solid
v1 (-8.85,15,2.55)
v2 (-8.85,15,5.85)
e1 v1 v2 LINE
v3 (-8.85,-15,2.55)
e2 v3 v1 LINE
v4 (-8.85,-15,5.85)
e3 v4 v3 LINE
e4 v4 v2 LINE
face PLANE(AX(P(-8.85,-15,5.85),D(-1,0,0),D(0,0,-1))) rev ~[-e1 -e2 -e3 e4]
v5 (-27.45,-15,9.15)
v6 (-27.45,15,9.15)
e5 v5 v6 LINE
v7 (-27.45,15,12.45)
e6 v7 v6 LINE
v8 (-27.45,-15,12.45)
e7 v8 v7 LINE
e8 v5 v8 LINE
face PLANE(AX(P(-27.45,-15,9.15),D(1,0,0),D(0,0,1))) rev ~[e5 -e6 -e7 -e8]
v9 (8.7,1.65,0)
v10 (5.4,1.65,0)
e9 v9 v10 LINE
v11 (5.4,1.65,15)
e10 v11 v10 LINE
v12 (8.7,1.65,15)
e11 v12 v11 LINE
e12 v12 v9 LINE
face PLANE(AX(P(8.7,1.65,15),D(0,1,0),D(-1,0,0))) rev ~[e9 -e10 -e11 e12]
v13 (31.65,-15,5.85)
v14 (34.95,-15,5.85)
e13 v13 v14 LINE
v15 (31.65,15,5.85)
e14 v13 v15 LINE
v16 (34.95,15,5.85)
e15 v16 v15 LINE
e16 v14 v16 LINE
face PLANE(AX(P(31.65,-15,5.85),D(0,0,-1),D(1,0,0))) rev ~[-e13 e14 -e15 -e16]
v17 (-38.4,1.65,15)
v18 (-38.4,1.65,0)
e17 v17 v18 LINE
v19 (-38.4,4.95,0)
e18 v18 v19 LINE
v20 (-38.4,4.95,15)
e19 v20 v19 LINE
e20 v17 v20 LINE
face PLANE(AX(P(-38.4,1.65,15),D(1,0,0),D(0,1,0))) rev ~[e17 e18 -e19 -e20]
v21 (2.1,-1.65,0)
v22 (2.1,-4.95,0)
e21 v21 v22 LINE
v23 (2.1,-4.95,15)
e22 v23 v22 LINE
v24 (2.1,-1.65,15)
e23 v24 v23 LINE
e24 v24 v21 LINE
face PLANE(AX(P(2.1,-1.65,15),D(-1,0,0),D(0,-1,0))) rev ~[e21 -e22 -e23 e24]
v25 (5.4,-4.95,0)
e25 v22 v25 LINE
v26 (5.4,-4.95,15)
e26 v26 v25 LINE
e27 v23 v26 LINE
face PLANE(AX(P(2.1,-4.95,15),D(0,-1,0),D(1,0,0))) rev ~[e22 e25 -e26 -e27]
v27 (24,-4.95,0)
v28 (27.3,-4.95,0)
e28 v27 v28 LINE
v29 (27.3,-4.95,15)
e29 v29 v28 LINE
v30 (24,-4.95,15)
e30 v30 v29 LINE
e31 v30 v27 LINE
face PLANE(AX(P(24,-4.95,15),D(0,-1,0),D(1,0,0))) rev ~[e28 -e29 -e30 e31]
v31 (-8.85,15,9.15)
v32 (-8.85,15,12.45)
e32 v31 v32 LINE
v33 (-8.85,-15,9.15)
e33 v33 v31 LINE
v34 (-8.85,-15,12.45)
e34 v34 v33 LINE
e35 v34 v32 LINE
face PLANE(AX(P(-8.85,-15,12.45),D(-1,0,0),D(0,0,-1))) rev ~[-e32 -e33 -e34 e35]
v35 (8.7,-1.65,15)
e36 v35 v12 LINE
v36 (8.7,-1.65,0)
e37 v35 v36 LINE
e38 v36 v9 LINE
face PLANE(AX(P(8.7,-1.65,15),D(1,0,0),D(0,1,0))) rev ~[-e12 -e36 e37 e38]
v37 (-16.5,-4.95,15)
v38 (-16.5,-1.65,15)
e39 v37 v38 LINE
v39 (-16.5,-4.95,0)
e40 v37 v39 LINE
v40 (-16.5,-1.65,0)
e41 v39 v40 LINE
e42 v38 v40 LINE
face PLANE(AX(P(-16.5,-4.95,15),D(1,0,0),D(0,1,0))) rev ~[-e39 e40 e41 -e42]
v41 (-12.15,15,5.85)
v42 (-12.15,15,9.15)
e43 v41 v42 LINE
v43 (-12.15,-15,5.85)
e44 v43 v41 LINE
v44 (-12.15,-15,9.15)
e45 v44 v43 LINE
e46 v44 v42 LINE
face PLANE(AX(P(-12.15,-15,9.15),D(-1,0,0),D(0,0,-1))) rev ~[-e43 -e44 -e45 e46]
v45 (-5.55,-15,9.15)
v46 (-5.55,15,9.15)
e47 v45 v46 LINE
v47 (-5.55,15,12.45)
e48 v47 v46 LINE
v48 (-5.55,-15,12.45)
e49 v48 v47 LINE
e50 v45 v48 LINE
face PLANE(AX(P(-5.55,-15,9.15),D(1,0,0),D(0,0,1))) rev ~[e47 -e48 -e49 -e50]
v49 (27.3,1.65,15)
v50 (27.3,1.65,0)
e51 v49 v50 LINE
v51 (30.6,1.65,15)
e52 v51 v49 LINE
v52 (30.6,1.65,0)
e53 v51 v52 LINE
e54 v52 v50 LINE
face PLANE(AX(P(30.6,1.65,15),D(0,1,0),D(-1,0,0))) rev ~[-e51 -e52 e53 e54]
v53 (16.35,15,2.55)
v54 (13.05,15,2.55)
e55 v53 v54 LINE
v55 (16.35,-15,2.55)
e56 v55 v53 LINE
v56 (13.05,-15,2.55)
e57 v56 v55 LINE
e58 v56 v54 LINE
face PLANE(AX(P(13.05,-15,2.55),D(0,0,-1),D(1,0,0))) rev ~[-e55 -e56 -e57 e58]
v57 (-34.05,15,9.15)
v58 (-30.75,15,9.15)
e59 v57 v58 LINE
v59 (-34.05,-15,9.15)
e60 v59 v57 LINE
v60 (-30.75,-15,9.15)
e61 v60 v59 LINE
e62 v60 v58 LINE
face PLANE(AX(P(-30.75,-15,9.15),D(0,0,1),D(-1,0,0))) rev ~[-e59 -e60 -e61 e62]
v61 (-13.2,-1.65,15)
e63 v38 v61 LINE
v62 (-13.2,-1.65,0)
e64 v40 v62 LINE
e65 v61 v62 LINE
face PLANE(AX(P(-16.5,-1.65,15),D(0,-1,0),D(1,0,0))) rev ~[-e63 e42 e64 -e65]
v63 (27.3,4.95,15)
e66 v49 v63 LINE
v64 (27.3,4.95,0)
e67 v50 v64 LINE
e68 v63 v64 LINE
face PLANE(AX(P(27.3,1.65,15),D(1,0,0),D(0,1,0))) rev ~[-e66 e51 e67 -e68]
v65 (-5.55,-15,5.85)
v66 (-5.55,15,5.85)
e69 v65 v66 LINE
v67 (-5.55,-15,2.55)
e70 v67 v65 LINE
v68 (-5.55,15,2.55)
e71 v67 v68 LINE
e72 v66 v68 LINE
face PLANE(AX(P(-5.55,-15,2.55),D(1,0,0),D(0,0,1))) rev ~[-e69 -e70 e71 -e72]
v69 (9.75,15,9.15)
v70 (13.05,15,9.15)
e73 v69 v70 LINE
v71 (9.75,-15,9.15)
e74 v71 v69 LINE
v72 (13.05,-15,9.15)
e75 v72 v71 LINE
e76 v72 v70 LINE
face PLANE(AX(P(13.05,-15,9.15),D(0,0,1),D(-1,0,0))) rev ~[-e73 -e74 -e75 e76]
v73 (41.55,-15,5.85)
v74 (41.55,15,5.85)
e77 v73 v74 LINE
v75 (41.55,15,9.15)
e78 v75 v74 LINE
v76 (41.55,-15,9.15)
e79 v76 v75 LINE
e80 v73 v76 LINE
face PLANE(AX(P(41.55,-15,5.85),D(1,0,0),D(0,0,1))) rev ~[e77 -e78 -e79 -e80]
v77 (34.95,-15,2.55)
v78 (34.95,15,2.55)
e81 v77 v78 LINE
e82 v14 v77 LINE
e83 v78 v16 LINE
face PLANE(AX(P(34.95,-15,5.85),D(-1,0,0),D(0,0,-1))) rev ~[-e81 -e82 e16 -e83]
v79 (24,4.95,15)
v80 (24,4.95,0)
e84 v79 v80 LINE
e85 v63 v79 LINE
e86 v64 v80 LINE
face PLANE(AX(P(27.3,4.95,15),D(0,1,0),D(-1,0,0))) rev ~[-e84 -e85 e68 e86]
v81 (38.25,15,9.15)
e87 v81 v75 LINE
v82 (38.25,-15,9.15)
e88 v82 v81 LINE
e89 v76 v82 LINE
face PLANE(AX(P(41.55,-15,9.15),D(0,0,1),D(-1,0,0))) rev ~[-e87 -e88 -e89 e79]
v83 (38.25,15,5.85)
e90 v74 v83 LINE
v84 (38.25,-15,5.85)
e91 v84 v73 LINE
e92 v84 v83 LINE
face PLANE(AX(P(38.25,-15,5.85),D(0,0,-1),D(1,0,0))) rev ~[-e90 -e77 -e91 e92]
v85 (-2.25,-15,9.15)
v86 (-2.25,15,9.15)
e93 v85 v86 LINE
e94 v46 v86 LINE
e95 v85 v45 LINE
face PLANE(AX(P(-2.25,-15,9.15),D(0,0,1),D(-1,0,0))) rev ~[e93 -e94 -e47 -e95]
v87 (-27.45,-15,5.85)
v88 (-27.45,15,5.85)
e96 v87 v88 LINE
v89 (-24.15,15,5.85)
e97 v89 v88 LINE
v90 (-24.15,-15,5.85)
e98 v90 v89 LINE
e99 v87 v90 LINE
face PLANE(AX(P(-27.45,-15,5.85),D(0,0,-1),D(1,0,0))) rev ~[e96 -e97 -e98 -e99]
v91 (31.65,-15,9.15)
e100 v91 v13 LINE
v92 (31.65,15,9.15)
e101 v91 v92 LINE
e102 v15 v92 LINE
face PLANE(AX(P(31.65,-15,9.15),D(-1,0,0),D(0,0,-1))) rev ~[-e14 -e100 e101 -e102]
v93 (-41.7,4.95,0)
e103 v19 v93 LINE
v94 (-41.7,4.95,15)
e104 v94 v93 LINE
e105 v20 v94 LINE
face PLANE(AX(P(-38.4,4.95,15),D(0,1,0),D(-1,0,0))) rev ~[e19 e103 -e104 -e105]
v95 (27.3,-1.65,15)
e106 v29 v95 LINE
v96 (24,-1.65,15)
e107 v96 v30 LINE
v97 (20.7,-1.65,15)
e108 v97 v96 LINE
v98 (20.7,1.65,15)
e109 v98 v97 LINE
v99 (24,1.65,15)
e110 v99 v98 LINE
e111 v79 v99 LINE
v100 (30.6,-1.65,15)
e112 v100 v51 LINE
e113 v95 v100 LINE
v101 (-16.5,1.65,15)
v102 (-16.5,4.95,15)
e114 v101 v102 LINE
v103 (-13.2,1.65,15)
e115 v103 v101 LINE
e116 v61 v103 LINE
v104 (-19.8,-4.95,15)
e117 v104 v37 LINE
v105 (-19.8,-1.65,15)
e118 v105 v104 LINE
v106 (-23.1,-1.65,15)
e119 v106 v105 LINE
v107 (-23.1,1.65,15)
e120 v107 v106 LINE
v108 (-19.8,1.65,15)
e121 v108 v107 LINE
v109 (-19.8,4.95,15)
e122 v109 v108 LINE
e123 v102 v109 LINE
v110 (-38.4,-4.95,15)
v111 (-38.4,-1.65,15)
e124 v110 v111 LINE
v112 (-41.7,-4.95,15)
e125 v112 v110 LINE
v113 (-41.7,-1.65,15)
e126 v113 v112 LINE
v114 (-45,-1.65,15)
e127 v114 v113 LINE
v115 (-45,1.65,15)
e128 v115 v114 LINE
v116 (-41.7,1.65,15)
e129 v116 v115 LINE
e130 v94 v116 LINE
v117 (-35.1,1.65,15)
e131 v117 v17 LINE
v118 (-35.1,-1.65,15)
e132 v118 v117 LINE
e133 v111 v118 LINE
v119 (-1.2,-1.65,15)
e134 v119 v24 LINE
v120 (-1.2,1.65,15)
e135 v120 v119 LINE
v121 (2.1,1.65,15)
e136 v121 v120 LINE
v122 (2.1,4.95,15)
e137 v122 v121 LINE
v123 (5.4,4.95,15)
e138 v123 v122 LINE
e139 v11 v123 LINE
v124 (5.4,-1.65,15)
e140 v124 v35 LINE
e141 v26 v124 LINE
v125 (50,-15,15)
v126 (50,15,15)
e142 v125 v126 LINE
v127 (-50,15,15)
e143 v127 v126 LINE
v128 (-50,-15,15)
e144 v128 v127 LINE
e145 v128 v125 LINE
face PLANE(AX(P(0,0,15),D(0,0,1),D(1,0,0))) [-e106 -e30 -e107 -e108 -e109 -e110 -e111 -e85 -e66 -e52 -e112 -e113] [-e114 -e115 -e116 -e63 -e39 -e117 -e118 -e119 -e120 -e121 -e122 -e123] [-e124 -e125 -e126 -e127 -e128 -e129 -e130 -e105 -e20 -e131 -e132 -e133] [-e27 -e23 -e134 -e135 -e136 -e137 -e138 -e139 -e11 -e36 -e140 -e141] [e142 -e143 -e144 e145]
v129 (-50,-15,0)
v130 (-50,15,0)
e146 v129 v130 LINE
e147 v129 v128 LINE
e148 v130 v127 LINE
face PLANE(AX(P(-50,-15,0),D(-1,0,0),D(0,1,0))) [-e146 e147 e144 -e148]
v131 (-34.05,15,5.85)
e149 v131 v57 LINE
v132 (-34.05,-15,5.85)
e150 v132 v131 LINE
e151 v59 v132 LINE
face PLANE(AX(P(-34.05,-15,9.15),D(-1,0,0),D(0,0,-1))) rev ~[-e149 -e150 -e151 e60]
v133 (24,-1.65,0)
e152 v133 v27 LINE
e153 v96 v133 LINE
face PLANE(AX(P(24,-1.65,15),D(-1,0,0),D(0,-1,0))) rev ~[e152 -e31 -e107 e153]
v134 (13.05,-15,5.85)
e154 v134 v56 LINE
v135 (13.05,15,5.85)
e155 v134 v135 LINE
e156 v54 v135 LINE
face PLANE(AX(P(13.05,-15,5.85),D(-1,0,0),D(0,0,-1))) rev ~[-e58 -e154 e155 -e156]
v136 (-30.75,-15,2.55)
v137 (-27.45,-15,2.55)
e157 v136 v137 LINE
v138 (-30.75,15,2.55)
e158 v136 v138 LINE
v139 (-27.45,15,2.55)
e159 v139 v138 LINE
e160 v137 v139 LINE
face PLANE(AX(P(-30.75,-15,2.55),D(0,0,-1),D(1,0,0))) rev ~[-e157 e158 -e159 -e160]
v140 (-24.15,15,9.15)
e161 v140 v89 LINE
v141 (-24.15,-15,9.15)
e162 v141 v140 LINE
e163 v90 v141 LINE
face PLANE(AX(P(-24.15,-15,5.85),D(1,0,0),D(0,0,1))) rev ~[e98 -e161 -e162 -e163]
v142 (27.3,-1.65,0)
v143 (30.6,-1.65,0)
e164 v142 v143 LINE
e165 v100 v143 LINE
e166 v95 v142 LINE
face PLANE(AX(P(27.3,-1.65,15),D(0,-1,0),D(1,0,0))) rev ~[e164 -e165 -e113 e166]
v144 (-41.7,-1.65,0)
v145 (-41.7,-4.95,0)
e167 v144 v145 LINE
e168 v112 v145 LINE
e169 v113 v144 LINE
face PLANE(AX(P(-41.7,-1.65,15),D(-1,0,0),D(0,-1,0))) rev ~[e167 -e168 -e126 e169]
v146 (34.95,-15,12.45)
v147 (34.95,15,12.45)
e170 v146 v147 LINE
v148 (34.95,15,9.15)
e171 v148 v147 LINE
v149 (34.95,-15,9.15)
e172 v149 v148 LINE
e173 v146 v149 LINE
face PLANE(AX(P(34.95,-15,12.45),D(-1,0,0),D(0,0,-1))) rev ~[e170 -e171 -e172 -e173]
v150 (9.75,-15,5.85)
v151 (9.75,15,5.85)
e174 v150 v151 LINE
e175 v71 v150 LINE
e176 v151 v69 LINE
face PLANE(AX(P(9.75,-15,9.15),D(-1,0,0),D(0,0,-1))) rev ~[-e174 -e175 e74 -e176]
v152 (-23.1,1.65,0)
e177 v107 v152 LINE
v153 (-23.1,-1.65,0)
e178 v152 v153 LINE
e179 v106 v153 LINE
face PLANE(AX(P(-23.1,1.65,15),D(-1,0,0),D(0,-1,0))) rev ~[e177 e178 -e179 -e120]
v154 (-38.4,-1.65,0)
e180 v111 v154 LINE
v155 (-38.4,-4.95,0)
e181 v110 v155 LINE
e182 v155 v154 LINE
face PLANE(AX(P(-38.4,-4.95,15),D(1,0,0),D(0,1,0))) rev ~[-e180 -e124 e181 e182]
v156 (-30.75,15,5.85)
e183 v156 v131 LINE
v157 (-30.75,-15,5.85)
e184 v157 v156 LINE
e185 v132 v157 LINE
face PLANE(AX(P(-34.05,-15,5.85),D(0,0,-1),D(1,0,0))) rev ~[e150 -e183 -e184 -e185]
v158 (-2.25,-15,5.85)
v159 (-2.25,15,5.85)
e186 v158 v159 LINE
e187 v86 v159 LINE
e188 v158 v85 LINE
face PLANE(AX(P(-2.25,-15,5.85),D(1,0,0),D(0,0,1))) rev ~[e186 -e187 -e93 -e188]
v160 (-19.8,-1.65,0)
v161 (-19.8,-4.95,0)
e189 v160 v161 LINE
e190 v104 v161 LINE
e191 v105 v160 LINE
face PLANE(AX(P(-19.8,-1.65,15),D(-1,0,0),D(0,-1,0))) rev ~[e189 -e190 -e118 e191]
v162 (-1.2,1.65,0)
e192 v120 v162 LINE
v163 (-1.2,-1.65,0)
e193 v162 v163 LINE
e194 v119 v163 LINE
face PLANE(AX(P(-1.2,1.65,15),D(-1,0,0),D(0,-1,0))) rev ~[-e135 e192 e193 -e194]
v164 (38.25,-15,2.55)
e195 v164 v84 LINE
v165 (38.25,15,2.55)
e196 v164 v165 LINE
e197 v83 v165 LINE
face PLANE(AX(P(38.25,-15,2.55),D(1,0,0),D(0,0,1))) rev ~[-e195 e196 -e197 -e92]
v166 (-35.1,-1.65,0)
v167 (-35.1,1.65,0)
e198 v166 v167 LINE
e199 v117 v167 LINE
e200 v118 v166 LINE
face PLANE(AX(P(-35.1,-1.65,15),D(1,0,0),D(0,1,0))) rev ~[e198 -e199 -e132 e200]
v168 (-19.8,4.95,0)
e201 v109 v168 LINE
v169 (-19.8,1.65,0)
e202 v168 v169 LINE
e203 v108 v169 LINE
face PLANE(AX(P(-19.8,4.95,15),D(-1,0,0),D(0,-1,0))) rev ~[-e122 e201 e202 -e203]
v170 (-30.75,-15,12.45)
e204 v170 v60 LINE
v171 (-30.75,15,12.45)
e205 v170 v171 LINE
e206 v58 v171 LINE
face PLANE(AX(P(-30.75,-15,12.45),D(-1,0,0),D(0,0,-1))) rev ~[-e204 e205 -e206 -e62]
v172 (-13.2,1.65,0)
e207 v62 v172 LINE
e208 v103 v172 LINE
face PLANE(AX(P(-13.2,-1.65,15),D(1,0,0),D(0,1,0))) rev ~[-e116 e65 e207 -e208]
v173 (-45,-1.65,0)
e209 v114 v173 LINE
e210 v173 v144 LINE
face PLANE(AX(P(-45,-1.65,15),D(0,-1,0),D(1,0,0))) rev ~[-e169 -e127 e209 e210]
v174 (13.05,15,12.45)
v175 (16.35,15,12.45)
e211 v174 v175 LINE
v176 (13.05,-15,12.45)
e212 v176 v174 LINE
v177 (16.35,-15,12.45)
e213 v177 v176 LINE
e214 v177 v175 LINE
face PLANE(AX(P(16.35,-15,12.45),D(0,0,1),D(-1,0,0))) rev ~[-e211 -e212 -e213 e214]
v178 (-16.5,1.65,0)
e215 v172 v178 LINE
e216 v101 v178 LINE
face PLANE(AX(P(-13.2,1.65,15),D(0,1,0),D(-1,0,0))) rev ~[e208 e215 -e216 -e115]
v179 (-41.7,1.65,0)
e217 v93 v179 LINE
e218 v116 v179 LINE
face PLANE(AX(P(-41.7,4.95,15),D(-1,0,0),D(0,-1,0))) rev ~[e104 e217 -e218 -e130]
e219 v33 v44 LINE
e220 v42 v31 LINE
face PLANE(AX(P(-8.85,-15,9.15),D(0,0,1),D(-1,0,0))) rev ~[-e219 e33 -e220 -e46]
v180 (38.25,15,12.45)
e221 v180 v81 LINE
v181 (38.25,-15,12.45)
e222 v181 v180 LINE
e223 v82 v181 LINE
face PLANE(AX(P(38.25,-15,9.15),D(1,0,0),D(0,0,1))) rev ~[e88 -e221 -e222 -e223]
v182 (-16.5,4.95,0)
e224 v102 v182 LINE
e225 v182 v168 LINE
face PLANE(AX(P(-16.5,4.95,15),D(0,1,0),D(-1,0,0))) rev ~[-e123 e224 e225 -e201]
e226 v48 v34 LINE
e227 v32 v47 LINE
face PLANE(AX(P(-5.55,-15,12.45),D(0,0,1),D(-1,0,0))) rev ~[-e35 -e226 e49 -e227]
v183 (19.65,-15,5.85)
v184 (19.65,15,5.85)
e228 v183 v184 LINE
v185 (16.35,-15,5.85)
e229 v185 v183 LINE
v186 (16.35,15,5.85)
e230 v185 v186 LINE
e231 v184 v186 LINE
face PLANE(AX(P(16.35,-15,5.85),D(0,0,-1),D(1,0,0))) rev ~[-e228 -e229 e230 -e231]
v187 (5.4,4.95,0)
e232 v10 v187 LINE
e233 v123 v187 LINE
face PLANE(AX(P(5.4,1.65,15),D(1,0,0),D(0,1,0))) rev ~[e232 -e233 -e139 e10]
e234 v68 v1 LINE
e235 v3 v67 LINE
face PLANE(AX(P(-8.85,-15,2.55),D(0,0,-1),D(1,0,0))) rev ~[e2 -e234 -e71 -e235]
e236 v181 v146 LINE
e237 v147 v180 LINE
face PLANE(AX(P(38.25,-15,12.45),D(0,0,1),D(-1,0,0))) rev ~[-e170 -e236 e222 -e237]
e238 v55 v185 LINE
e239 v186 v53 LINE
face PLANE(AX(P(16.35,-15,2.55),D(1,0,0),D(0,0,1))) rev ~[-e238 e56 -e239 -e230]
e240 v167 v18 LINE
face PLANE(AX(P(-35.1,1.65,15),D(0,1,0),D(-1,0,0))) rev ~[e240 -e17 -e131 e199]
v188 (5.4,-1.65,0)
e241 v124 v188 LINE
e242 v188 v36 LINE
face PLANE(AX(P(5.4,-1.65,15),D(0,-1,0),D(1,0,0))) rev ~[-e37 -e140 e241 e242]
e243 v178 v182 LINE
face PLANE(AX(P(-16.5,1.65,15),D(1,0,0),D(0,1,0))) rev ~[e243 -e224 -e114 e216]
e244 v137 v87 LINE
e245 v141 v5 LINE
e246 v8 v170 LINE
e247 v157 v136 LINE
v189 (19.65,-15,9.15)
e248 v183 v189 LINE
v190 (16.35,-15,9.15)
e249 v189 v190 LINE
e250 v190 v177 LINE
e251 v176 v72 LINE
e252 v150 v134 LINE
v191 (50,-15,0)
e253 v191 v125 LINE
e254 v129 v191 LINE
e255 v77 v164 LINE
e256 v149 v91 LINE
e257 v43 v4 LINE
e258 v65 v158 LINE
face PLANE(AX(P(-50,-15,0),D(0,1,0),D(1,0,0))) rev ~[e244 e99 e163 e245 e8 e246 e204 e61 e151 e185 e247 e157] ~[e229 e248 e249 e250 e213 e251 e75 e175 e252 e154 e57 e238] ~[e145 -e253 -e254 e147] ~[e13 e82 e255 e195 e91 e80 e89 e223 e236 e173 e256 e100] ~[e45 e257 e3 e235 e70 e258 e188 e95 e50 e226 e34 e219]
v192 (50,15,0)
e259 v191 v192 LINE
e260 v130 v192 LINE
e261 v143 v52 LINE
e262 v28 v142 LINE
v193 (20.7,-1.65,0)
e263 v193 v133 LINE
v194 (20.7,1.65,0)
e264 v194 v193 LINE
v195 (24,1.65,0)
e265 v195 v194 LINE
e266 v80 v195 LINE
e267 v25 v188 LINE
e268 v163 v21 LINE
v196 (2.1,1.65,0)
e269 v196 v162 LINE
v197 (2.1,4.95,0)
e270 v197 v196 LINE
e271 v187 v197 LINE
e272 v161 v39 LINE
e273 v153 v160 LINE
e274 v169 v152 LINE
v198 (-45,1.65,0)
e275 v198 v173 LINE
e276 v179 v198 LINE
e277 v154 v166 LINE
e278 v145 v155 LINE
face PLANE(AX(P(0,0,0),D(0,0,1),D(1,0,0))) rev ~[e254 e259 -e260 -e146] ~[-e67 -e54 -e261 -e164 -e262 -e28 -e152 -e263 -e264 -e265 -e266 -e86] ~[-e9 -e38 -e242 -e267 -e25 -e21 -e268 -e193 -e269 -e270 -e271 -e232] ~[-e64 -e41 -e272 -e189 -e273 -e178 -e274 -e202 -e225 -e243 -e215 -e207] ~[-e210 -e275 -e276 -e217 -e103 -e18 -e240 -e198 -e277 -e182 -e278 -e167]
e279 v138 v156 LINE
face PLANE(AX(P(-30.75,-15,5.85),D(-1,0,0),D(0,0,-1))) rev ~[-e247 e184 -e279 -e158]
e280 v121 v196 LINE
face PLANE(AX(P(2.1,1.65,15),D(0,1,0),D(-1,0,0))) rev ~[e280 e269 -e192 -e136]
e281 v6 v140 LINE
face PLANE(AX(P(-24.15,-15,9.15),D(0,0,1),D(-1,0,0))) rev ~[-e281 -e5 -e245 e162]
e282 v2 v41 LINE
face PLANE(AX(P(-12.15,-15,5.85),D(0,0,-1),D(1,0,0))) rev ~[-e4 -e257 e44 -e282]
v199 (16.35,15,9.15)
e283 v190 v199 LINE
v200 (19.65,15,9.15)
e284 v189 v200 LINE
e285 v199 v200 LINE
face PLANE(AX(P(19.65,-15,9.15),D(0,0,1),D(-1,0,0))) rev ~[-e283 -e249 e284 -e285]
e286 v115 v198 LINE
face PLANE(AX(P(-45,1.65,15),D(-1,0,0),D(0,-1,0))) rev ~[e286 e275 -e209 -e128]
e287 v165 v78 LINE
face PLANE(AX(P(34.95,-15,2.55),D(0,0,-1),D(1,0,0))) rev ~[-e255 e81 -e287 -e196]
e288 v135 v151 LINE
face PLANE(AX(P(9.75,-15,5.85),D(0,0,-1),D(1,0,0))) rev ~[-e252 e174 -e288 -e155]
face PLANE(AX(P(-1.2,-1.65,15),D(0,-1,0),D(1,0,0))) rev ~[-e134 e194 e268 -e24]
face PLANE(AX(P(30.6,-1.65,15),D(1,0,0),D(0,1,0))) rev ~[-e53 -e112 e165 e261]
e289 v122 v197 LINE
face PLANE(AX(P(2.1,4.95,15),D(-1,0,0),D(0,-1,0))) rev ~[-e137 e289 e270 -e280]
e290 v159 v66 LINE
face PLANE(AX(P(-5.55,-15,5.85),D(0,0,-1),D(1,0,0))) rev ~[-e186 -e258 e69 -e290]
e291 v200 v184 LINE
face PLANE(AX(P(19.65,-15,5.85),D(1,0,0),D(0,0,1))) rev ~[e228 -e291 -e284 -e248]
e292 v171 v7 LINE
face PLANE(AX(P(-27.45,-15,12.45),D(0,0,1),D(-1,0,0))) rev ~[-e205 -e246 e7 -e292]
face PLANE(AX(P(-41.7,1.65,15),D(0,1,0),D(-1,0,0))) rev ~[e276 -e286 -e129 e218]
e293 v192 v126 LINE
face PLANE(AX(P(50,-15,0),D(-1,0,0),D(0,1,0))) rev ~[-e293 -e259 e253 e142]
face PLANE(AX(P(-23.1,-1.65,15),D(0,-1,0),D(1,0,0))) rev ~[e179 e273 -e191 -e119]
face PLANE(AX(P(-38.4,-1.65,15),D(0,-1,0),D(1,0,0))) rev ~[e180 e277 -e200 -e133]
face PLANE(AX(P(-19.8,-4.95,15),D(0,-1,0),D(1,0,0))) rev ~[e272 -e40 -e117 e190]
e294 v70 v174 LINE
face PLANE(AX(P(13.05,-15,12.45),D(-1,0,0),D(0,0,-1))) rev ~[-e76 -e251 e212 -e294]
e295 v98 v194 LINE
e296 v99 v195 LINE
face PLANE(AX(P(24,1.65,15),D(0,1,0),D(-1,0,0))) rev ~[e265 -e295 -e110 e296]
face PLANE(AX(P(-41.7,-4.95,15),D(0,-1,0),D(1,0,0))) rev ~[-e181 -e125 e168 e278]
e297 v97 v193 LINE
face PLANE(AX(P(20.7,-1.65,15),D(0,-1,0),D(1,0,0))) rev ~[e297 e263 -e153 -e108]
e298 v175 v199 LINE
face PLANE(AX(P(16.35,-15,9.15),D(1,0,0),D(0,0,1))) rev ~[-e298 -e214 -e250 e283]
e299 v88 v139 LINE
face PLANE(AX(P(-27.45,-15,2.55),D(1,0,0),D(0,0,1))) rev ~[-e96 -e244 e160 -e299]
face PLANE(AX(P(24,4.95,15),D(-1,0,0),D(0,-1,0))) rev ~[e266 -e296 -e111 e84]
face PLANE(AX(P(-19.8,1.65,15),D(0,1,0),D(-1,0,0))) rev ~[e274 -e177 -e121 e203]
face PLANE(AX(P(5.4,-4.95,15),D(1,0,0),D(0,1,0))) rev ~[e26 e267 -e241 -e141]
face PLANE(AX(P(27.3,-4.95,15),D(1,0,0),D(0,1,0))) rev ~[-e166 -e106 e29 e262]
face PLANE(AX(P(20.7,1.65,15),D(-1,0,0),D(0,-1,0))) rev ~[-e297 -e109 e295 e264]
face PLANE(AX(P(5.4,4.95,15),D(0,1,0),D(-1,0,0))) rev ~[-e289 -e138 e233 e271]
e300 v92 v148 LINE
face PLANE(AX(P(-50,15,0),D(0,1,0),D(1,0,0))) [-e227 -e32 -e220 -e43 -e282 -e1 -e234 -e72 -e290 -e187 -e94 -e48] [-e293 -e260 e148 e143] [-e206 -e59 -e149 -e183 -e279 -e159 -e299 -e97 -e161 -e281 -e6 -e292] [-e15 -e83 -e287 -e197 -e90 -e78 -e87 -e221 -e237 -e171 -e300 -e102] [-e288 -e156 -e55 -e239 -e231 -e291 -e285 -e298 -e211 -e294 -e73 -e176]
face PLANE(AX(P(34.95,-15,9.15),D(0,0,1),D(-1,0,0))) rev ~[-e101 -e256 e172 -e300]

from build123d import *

# Parameters (mm, degrees)
F0_W     = 100
F0_H     = 30
F1_DEPTH = 15
F3_DEPTH = 15.001
F5_DEPTH = 30.001


with BuildPart() as f1:
    # F0 (on Top) → F1 (new body)
    with BuildSketch(Plane.XY):
        Rectangle(F0_W, F0_H)
    extrude(amount=F1_DEPTH)

    # F2 (on face) → F3 (cut, through all)
    with BuildSketch(Plane.XY.offset(15)):
        Polygon((-38.4, 4.95), (-41.7, 4.95), (-41.7, 1.65), (-45, 1.65), (-45, -1.65), (-41.7, -1.65), (-41.7, -4.95), (-38.4, -4.95), (-38.4, -1.65), (-35.1, -1.65), (-35.1, 1.65), (-38.4, 1.65), align=None)
        Polygon((-23.1, 1.65), (-23.1, -1.65), (-19.8, -1.65), (-19.8, -4.95), (-16.5, -4.95), (-16.5, -1.65), (-13.2, -1.65), (-13.2, 1.65), (-16.5, 1.65), (-16.5, 4.95), (-19.8, 4.95), (-19.8, 1.65), align=None)
        Polygon((-1.2, 1.65), (-1.2, -1.65), (2.1, -1.65), (2.1, -4.95), (5.4, -4.95), (5.4, -1.65), (8.7, -1.65), (8.7, 1.65), (5.4, 1.65), (5.4, 4.95), (2.1, 4.95), (2.1, 1.65), align=None)
        Polygon((20.7, 1.65), (20.7, -1.65), (24, -1.65), (24, -4.95), (27.3, -4.95), (27.3, -1.65), (30.6, -1.65), (30.6, 1.65), (27.3, 1.65), (27.3, 4.95), (24, 4.95), (24, 1.65), align=None)
    extrude(amount=-F3_DEPTH, mode=Mode.SUBTRACT)

    # F4 (on face) → F5 (cut, through all)
    with BuildSketch(Plane.XZ.offset(15)):
        Polygon((-27.45, 12.45), (-30.75, 12.45), (-30.75, 9.15), (-34.05, 9.15), (-34.05, 5.85), (-30.75, 5.85), (-30.75, 2.55), (-27.45, 2.55), (-27.45, 5.85), (-24.15, 5.85), (-24.15, 9.15), (-27.45, 9.15), align=None)
        Polygon((-8.85, 9.15), (-12.15, 9.15), (-12.15, 5.85), (-8.85, 5.85), (-8.85, 2.55), (-5.55, 2.55), (-5.55, 5.85), (-2.25, 5.85), (-2.25, 9.15), (-5.55, 9.15), (-5.55, 12.45), (-8.85, 12.45), align=None)
        Polygon((13.05, 9.15), (9.75, 9.15), (9.75, 5.85), (13.05, 5.85), (13.05, 2.55), (16.35, 2.55), (16.35, 5.85), (19.65, 5.85), (19.65, 9.15), (16.35, 9.15), (16.35, 12.45), (13.05, 12.45), align=None)
        Polygon((34.95, 9.15), (31.65, 9.15), (31.65, 5.85), (34.95, 5.85), (34.95, 2.55), (38.25, 2.55), (38.25, 5.85), (41.55, 5.85), (41.55, 9.15), (38.25, 9.15), (38.25, 12.45), (34.95, 12.45), align=None)
    extrude(amount=-F5_DEPTH, mode=Mode.SUBTRACT)


solid = f1.part
